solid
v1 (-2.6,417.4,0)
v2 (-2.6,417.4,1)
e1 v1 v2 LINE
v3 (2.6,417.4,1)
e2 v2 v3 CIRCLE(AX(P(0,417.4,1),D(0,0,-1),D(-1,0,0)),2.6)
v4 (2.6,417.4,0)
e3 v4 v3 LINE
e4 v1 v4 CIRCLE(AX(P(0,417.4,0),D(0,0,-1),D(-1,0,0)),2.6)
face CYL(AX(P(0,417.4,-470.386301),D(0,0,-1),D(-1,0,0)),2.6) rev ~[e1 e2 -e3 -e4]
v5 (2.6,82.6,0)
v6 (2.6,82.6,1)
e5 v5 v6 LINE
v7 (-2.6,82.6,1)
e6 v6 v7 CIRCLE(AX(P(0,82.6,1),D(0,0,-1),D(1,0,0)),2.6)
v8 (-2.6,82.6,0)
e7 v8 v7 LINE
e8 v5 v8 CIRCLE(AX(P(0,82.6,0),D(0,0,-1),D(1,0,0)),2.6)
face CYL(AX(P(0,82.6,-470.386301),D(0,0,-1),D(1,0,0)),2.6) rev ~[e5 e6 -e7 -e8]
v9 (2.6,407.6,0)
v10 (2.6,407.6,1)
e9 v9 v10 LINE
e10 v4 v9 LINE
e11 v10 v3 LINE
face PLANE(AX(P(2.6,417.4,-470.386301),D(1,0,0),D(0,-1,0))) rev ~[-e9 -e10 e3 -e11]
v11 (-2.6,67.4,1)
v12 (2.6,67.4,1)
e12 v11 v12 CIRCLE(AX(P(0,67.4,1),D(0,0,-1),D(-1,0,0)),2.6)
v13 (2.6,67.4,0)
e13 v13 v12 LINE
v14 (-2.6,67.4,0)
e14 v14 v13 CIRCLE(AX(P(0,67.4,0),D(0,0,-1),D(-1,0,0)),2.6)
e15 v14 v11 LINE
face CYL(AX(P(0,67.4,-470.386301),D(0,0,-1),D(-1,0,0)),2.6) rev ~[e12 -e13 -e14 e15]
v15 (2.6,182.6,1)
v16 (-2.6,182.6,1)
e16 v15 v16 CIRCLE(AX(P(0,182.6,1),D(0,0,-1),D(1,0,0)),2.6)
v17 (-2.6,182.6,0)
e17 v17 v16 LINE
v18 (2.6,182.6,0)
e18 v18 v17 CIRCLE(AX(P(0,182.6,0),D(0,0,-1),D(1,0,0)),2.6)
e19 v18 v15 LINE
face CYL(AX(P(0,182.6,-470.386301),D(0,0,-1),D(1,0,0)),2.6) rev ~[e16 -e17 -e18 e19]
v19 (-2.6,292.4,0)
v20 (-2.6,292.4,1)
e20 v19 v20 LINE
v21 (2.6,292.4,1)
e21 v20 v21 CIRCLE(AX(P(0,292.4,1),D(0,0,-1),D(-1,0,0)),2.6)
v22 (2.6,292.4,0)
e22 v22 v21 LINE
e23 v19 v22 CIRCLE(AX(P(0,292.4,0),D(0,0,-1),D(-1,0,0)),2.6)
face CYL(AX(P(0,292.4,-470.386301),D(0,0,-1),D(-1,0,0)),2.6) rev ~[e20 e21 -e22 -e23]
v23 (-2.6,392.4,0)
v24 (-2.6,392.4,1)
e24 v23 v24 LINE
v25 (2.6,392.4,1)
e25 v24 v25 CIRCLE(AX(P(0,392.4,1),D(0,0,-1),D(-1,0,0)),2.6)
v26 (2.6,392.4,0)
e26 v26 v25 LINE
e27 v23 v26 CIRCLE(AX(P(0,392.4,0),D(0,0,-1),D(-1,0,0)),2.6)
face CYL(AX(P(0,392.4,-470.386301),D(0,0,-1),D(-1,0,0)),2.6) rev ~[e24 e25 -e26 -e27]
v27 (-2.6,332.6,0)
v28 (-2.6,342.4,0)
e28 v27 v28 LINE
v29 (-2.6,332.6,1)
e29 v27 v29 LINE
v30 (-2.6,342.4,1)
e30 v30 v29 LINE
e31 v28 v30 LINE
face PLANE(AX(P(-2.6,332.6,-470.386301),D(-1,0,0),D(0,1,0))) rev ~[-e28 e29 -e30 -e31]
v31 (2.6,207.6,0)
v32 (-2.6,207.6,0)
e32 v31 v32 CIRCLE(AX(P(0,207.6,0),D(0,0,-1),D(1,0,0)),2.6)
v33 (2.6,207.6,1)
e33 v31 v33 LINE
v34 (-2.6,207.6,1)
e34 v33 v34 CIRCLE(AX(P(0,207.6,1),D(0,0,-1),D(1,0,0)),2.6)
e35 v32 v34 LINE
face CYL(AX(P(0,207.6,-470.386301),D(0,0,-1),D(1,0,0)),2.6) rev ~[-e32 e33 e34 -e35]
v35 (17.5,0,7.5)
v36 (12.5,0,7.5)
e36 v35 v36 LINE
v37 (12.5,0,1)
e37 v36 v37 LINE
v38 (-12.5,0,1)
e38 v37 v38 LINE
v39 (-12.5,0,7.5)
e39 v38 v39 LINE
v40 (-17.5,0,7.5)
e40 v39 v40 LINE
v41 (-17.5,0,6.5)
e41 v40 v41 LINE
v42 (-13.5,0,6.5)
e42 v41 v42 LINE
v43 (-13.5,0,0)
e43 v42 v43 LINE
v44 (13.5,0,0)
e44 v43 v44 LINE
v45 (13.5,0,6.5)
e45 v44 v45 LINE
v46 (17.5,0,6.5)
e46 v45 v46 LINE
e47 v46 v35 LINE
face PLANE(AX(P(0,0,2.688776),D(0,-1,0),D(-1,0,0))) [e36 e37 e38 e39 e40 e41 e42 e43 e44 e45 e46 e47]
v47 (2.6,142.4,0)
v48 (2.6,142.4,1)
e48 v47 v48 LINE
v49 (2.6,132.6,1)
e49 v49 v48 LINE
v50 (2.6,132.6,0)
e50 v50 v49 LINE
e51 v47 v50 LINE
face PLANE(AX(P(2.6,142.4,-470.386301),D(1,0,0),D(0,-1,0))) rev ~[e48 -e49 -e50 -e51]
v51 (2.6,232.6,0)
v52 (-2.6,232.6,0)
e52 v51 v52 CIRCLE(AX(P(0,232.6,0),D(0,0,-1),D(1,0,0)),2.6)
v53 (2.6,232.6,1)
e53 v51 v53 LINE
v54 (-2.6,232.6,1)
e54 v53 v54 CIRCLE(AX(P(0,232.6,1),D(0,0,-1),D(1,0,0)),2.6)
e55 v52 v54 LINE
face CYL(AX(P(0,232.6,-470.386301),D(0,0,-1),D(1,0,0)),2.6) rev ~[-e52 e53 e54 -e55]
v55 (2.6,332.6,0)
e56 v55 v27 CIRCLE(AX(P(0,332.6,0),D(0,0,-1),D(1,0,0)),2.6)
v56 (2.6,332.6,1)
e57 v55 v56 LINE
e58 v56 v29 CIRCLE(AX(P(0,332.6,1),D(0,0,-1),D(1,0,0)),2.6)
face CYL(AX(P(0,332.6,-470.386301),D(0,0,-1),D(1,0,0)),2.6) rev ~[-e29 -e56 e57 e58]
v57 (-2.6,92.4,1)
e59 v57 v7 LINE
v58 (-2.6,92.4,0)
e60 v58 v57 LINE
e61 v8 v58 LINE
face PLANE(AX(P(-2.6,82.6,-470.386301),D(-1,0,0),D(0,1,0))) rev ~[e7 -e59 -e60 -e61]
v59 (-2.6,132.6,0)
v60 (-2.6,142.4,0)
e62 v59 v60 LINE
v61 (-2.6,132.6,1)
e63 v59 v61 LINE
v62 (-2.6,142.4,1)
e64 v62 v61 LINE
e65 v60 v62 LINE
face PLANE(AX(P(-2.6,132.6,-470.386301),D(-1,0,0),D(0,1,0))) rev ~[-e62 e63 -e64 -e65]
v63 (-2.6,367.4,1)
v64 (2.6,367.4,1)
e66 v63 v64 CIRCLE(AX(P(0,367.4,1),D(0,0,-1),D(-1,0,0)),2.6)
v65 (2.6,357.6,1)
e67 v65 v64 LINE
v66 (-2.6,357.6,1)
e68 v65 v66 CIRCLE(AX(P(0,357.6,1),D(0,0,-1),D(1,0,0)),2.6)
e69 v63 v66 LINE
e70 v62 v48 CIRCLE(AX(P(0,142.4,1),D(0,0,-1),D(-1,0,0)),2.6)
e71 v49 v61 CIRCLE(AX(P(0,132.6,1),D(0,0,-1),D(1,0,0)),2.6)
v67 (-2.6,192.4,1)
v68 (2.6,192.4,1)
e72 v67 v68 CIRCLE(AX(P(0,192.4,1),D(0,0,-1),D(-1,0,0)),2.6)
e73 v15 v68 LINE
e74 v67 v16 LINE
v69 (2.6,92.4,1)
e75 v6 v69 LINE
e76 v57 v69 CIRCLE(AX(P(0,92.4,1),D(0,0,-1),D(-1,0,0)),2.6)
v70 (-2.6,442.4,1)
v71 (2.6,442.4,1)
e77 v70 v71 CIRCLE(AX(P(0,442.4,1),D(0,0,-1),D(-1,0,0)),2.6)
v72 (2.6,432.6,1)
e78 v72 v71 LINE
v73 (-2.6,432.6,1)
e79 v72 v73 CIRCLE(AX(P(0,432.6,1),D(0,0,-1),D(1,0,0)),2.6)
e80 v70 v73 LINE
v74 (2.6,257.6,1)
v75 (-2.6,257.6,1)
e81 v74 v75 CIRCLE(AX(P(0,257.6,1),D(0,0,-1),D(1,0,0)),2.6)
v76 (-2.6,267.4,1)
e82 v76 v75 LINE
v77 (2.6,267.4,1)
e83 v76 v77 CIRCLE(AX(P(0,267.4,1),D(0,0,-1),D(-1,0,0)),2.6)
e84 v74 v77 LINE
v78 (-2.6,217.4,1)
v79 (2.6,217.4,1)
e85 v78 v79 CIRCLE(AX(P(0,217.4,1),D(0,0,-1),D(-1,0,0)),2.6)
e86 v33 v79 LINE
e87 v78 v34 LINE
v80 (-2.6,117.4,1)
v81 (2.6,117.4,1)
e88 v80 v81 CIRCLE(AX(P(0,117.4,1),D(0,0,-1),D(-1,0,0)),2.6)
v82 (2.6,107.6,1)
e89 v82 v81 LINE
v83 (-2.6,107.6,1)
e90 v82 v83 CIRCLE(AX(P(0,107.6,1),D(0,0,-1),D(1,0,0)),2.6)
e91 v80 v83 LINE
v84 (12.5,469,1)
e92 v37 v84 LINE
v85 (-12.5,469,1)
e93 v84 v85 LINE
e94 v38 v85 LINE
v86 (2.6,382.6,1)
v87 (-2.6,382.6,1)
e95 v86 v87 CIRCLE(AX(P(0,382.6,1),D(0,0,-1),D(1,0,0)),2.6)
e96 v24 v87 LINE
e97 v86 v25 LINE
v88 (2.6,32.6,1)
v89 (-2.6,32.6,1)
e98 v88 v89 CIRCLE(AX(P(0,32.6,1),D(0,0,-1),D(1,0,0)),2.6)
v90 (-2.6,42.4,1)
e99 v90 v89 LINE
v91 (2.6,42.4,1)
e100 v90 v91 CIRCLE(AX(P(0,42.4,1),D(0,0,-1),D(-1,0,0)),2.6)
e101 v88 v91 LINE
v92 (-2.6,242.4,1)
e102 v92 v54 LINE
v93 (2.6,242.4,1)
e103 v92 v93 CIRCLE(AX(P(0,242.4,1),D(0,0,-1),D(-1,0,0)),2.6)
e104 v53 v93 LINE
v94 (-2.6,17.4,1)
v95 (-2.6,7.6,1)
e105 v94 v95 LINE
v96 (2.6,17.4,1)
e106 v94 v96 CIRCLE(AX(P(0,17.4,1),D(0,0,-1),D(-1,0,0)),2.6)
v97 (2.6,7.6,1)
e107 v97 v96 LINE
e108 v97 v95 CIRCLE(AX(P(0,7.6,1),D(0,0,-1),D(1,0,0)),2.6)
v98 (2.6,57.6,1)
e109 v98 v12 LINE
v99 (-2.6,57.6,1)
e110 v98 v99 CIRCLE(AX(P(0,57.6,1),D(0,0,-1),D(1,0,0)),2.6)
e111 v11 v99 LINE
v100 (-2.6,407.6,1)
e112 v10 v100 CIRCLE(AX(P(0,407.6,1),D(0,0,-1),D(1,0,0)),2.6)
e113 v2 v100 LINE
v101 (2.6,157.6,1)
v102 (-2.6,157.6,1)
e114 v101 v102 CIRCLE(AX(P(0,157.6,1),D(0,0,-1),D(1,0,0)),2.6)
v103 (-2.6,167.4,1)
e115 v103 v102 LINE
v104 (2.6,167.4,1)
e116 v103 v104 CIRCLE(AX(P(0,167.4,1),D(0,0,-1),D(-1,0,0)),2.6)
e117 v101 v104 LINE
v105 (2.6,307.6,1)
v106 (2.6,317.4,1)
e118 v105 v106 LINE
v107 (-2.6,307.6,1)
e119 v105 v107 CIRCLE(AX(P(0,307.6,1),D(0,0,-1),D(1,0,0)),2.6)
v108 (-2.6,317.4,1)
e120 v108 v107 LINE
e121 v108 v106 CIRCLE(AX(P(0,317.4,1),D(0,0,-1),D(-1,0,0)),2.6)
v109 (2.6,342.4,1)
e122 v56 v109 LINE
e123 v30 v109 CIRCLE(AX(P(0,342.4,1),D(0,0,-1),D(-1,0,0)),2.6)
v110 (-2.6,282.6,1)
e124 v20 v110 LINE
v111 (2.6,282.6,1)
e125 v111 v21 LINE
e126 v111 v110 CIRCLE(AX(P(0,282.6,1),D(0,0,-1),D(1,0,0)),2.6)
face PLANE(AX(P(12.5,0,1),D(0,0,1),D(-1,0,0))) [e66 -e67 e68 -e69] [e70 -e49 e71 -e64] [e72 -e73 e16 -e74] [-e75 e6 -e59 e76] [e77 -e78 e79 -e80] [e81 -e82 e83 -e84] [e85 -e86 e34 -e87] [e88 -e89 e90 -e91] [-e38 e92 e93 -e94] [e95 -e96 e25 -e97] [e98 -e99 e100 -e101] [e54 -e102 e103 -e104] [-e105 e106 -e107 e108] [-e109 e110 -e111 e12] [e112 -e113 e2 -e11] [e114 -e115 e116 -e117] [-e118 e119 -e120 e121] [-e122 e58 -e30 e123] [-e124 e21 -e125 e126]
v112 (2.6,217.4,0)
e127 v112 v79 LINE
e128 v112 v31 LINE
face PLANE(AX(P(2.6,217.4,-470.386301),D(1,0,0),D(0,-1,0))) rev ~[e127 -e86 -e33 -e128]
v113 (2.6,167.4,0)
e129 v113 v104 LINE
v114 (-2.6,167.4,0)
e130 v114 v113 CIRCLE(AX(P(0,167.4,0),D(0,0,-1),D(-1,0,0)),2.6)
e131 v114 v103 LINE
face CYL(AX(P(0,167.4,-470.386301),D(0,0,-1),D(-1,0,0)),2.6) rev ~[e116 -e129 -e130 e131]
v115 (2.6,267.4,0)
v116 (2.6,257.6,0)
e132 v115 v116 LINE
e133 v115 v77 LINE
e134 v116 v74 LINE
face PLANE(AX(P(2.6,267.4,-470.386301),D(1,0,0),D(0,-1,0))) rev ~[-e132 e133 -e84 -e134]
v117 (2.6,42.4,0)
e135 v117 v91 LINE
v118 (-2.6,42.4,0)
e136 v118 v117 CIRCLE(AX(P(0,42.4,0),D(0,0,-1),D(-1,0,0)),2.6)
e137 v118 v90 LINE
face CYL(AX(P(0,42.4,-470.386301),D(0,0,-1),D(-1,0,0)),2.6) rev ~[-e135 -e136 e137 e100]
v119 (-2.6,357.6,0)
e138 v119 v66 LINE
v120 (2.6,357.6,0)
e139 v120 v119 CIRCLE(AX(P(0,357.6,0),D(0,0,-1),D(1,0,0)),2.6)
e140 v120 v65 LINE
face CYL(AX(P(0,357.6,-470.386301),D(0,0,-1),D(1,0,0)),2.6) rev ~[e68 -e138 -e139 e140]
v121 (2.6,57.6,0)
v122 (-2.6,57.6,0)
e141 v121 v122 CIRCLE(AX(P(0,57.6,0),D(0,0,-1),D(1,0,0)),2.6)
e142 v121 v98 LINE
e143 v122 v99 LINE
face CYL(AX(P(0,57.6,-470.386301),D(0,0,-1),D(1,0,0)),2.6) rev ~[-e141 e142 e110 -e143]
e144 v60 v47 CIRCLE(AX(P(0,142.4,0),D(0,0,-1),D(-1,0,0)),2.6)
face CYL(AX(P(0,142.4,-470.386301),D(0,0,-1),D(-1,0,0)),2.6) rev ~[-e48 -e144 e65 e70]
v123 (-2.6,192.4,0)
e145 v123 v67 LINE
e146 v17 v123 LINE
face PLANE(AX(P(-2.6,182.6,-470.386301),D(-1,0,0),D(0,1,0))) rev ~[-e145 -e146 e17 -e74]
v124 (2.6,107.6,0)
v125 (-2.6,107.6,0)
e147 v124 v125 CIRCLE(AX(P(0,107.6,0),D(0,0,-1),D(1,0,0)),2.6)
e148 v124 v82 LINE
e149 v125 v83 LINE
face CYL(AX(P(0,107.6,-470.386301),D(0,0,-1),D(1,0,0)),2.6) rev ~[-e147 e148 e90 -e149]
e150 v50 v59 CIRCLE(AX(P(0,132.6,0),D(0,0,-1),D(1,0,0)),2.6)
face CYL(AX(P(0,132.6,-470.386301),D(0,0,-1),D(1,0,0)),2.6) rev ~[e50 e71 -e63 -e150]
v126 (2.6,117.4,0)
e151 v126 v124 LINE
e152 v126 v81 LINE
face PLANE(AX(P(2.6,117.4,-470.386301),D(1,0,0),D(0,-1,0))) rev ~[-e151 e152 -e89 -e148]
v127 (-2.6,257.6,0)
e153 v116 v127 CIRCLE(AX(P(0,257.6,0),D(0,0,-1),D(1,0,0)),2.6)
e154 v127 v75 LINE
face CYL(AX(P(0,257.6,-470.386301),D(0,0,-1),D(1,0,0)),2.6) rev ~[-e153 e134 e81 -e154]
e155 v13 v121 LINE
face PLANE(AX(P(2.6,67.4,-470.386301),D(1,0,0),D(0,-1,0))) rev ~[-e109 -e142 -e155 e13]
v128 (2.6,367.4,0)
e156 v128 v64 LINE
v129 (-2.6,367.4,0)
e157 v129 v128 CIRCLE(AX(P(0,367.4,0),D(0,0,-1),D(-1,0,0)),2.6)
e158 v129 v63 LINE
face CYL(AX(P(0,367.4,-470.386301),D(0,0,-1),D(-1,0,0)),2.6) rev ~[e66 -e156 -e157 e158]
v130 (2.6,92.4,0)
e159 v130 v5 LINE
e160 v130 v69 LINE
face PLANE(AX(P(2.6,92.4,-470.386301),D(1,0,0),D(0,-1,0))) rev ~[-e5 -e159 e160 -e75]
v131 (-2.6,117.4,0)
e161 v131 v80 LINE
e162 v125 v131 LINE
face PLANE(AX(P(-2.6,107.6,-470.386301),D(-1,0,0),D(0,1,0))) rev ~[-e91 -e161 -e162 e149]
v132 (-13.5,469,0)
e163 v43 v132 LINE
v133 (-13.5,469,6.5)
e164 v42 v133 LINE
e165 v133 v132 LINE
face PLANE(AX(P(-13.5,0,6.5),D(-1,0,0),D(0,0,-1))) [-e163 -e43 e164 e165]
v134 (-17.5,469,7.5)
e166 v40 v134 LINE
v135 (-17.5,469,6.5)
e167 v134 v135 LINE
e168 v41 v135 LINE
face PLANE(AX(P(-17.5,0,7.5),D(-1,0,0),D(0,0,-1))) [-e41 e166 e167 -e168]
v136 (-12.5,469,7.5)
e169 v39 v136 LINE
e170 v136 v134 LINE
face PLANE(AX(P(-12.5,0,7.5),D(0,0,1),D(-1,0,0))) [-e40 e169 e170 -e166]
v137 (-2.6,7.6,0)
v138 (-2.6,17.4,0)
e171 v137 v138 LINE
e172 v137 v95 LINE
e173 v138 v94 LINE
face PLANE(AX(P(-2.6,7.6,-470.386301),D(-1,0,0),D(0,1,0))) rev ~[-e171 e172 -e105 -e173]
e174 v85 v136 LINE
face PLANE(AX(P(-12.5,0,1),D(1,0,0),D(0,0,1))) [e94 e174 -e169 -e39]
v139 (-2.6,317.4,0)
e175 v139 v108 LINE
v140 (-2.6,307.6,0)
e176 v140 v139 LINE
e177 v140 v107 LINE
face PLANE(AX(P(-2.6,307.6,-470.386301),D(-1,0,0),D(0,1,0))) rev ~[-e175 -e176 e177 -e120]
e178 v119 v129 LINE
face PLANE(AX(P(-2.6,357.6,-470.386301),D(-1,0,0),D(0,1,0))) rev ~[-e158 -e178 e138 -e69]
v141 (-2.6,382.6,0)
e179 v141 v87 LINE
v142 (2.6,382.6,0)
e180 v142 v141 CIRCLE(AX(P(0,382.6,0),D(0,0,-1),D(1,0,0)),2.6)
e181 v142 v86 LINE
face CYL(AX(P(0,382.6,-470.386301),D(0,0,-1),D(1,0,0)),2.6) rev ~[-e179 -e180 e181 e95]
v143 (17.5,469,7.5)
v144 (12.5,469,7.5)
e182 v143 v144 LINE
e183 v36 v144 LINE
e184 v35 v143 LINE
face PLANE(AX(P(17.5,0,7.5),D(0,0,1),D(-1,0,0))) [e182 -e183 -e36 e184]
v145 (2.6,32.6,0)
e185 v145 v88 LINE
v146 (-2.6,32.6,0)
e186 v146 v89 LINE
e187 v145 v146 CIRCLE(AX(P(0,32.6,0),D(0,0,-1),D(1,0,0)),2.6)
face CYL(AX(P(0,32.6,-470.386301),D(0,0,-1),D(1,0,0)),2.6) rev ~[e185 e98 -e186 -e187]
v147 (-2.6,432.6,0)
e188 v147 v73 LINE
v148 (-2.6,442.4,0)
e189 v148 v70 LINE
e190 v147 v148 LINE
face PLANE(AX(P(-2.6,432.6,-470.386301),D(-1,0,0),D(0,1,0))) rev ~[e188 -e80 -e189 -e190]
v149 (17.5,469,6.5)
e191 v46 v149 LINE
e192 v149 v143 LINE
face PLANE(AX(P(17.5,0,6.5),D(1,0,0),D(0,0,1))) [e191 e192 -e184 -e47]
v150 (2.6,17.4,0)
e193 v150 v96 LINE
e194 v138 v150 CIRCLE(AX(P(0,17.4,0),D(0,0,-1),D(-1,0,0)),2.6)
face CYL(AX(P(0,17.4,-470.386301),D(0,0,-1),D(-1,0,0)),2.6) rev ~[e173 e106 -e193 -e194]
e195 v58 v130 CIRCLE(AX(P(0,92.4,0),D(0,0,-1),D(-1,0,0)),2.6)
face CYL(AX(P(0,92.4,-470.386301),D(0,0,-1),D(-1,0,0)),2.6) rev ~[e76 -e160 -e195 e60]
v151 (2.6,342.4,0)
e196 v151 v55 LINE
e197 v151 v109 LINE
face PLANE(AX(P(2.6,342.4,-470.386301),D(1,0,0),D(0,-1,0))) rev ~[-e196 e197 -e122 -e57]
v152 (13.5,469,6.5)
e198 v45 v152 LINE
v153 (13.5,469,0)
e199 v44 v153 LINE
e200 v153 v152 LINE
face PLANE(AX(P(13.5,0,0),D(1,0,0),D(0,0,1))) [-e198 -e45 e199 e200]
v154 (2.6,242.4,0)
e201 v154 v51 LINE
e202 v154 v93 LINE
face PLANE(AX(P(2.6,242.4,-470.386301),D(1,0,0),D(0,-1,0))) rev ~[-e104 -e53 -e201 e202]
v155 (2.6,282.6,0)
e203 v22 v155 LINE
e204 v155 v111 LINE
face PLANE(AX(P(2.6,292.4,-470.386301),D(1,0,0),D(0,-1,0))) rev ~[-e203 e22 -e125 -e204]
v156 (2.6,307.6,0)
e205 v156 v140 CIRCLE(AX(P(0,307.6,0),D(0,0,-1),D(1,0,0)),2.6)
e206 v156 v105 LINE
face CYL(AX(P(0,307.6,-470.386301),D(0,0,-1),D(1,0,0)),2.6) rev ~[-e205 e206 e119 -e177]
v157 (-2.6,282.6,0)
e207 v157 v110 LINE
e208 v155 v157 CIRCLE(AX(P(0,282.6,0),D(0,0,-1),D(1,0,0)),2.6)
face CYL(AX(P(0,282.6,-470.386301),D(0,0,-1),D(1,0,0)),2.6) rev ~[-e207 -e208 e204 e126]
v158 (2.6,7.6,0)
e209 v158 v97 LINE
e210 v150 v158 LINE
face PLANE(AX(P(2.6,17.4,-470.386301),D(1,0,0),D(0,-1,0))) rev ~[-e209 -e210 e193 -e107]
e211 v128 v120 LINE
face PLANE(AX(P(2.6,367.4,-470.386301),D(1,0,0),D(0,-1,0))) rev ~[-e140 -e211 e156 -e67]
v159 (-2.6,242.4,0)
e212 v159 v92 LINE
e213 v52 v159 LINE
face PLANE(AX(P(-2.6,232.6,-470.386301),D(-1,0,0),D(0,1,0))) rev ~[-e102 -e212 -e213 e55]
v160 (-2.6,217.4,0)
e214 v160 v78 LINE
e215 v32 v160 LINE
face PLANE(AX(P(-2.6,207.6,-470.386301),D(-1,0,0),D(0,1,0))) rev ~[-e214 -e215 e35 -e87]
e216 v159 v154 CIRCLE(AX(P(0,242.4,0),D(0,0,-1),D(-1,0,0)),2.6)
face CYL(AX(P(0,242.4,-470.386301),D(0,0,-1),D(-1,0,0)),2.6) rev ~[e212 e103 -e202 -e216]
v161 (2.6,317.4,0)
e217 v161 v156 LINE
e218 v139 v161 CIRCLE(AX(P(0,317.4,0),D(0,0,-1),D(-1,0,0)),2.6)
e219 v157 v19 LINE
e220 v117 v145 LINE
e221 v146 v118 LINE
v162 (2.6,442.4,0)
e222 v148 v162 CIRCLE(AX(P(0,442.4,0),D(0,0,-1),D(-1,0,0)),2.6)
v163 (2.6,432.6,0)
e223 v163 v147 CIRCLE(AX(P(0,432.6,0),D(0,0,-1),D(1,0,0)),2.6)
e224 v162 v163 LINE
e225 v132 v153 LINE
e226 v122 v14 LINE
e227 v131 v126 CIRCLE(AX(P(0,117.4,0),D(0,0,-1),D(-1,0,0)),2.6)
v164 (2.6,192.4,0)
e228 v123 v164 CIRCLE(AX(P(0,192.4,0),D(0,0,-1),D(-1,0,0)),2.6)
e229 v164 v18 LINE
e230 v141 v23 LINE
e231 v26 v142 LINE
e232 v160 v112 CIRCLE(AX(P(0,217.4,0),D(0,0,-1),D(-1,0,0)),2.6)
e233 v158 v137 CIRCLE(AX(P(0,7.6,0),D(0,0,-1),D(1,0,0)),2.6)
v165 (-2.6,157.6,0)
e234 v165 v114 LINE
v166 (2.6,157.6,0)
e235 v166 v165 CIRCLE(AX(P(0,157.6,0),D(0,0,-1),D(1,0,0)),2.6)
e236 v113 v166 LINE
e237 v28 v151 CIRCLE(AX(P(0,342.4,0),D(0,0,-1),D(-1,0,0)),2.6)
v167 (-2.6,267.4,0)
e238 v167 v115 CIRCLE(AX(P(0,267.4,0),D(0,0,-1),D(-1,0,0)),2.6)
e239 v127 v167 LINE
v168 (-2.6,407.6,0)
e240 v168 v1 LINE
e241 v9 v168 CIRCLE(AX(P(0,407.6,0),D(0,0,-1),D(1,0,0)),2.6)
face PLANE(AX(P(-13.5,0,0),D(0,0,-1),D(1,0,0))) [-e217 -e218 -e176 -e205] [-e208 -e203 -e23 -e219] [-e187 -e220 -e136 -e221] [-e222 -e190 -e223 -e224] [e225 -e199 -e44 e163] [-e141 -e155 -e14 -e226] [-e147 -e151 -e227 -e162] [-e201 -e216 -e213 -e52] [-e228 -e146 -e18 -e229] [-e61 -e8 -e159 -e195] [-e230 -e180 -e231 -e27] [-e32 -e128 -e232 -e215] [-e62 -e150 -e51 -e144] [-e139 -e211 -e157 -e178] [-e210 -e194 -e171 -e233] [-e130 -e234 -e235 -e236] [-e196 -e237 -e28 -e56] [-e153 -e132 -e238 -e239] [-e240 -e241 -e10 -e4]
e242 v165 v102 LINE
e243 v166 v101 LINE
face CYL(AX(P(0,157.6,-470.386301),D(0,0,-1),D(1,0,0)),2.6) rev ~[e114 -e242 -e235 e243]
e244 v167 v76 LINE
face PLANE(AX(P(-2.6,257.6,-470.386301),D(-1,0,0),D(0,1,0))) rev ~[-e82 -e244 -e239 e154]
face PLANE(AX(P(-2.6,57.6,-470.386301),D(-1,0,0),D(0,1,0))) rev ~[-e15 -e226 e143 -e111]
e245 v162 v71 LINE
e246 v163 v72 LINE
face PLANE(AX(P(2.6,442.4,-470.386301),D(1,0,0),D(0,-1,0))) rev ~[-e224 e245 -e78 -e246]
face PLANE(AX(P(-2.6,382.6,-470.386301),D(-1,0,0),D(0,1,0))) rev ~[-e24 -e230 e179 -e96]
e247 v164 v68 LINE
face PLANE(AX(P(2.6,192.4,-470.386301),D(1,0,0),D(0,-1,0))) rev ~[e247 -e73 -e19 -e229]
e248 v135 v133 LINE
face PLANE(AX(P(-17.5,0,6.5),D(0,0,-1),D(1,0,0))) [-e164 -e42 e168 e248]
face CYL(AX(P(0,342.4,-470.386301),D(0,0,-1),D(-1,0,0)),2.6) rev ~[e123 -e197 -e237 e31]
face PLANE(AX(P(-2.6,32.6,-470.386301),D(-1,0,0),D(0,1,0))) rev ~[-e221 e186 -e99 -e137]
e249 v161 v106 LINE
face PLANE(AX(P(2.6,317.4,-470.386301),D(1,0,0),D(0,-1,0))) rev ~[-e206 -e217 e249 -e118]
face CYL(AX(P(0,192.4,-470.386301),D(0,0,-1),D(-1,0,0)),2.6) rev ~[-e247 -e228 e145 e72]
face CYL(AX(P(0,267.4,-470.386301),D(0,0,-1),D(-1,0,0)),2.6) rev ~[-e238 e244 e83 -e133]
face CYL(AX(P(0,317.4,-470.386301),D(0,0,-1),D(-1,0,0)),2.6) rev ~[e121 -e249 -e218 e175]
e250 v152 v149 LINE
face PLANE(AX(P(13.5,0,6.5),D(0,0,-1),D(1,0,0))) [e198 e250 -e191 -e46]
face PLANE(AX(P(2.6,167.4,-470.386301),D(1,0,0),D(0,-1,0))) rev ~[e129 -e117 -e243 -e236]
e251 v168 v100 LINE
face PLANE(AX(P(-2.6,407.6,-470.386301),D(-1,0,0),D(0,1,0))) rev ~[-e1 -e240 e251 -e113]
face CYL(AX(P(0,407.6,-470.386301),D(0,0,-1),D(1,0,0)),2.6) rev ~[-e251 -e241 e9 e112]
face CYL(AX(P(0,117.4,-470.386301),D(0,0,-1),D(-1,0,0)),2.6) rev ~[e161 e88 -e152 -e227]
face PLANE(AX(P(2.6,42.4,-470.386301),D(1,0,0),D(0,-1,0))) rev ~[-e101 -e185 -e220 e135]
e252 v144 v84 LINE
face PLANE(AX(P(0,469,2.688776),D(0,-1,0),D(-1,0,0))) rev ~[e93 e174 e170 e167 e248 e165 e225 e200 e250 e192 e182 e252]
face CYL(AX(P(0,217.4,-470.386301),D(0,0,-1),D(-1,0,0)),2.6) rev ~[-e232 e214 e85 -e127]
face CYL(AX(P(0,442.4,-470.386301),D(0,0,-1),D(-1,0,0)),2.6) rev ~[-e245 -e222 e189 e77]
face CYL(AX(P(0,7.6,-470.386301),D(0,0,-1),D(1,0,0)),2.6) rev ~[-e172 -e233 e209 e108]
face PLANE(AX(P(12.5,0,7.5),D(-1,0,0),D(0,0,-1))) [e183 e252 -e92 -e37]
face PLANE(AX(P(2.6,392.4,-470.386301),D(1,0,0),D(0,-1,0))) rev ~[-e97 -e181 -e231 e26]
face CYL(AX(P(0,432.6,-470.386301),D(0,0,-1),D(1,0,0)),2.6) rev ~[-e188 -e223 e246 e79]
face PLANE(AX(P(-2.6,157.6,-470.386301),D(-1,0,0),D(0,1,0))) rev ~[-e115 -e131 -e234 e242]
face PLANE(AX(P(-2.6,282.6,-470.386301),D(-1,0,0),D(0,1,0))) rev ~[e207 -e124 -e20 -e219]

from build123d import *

# Parameters (mm, degrees)
RAIL_DEPTH       = 469
SLOTS_DEPTH      = 470.386301462
SLOTS_DEPTH_BACK = 470.386301462


with BuildPart() as part:
    # Sketch1 → Rail (new body)
    with BuildSketch(Plane(origin=(0, 0, 0), x_dir=(1, 0, 0), z_dir=(0, 1, 0))):
        Polygon((-13.5, 0), (13.5, 0), (13.5, -6.5), (17.5, -6.5), (17.5, -7.5), (12.5, -7.5), (12.5, -1), (-12.5, -1), (-12.5, -7.5), (-17.5, -7.5), (-17.5, -6.5), (-13.5, -6.5), align=None)
    extrude(amount=RAIL_DEPTH)

    # Sketch2 → Slots (cut, two sides: drawn at the far end of the back side and taken through both)
    with BuildSketch(Plane.XY.offset(-SLOTS_DEPTH_BACK)):
        with BuildLine():
            Line((-2.6, 7.6), (-2.6, 17.4))
            ThreePointArc((-2.6, 17.4), (0, 20), (2.6, 17.4))
            Line((2.6, 17.4), (2.6, 7.6))
            ThreePointArc((2.6, 7.6), (0, 5), (-2.6, 7.6))
        make_face()
        with BuildLine():
            Line((-2.6, 32.6), (-2.6, 42.4))
            ThreePointArc((-2.6, 42.4), (0, 45), (2.6, 42.4))
            Line((2.6, 42.4), (2.6, 32.6))
            ThreePointArc((2.6, 32.6), (0, 30), (-2.6, 32.6))
        make_face()
        with BuildLine():
            Line((-2.6, 57.6), (-2.6, 67.4))
            ThreePointArc((-2.6, 67.4), (0, 70), (2.6, 67.4))
            Line((2.6, 67.4), (2.6, 57.6))
            ThreePointArc((2.6, 57.6), (0, 55), (-2.6, 57.6))
        make_face()
        with BuildLine():
            Line((-2.6, 82.6), (-2.6, 92.4))
            ThreePointArc((-2.6, 92.4), (0, 95), (2.6, 92.4))
            Line((2.6, 92.4), (2.6, 82.6))
            ThreePointArc((2.6, 82.6), (0, 80), (-2.6, 82.6))
        make_face()
        with BuildLine():
            Line((-2.6, 107.6), (-2.6, 117.4))
            ThreePointArc((-2.6, 117.4), (0, 120), (2.6, 117.4))
            Line((2.6, 117.4), (2.6, 107.6))
            ThreePointArc((2.6, 107.6), (0, 105), (-2.6, 107.6))
        make_face()
        with BuildLine():
            Line((-2.6, 132.6), (-2.6, 142.4))
            ThreePointArc((-2.6, 142.4), (0, 145), (2.6, 142.4))
            Line((2.6, 142.4), (2.6, 132.6))
            ThreePointArc((2.6, 132.6), (0, 130), (-2.6, 132.6))
        make_face()
        with BuildLine():
            Line((-2.6, 157.6), (-2.6, 167.4))
            ThreePointArc((-2.6, 167.4), (0, 170), (2.6, 167.4))
            Line((2.6, 167.4), (2.6, 157.6))
            ThreePointArc((2.6, 157.6), (0, 155), (-2.6, 157.6))
        make_face()
        with BuildLine():
            Line((-2.6, 182.6), (-2.6, 192.4))
            ThreePointArc((-2.6, 192.4), (0, 195), (2.6, 192.4))
            Line((2.6, 192.4), (2.6, 182.6))
            ThreePointArc((2.6, 182.6), (0, 180), (-2.6, 182.6))
        make_face()
        with BuildLine():
            Line((-2.6, 207.6), (-2.6, 217.4))
            ThreePointArc((-2.6, 217.4), (0, 220), (2.6, 217.4))
            Line((2.6, 217.4), (2.6, 207.6))
            ThreePointArc((2.6, 207.6), (0, 205), (-2.6, 207.6))
        make_face()
        with BuildLine():
            Line((-2.6, 232.6), (-2.6, 242.4))
            ThreePointArc((-2.6, 242.4), (0, 245), (2.6, 242.4))
            Line((2.6, 242.4), (2.6, 232.6))
            ThreePointArc((2.6, 232.6), (0, 230), (-2.6, 232.6))
        make_face()
        with BuildLine():
            Line((-2.6, 257.6), (-2.6, 267.4))
            ThreePointArc((-2.6, 267.4), (0, 270), (2.6, 267.4))
            Line((2.6, 267.4), (2.6, 257.6))
            ThreePointArc((2.6, 257.6), (0, 255), (-2.6, 257.6))
        make_face()
        with BuildLine():
            Line((-2.6, 282.6), (-2.6, 292.4))
            ThreePointArc((-2.6, 292.4), (0, 295), (2.6, 292.4))
            Line((2.6, 292.4), (2.6, 282.6))
            ThreePointArc((2.6, 282.6), (0, 280), (-2.6, 282.6))
        make_face()
        with BuildLine():
            Line((-2.6, 307.6), (-2.6, 317.4))
            ThreePointArc((-2.6, 317.4), (0, 320), (2.6, 317.4))
            Line((2.6, 317.4), (2.6, 307.6))
            ThreePointArc((2.6, 307.6), (0, 305), (-2.6, 307.6))
        make_face()
        with BuildLine():
            Line((-2.6, 332.6), (-2.6, 342.4))
            ThreePointArc((-2.6, 342.4), (0, 345), (2.6, 342.4))
            Line((2.6, 342.4), (2.6, 332.6))
            ThreePointArc((2.6, 332.6), (0, 330), (-2.6, 332.6))
        make_face()
        with BuildLine():
            Line((-2.6, 357.6), (-2.6, 367.4))
            ThreePointArc((-2.6, 367.4), (0, 370), (2.6, 367.4))
            Line((2.6, 367.4), (2.6, 357.6))
            ThreePointArc((2.6, 357.6), (0, 355), (-2.6, 357.6))
        make_face()
        with BuildLine():
            Line((-2.6, 382.6), (-2.6, 392.4))
            ThreePointArc((-2.6, 392.4), (0, 395), (2.6, 392.4))
            Line((2.6, 392.4), (2.6, 382.6))
            ThreePointArc((2.6, 382.6), (0, 380), (-2.6, 382.6))
        make_face()
        with BuildLine():
            Line((-2.6, 407.6), (-2.6, 417.4))
            ThreePointArc((-2.6, 417.4), (0, 420), (2.6, 417.4))
            Line((2.6, 417.4), (2.6, 407.6))
            ThreePointArc((2.6, 407.6), (0, 405), (-2.6, 407.6))
        make_face()
        with BuildLine():
            Line((-2.6, 432.6), (-2.6, 442.4))
            ThreePointArc((-2.6, 442.4), (0, 445), (2.6, 442.4))
            Line((2.6, 442.4), (2.6, 432.6))
            ThreePointArc((2.6, 432.6), (0, 430), (-2.6, 432.6))
        make_face()
    extrude(amount=SLOTS_DEPTH + SLOTS_DEPTH_BACK, mode=Mode.SUBTRACT)


solid = part.part
